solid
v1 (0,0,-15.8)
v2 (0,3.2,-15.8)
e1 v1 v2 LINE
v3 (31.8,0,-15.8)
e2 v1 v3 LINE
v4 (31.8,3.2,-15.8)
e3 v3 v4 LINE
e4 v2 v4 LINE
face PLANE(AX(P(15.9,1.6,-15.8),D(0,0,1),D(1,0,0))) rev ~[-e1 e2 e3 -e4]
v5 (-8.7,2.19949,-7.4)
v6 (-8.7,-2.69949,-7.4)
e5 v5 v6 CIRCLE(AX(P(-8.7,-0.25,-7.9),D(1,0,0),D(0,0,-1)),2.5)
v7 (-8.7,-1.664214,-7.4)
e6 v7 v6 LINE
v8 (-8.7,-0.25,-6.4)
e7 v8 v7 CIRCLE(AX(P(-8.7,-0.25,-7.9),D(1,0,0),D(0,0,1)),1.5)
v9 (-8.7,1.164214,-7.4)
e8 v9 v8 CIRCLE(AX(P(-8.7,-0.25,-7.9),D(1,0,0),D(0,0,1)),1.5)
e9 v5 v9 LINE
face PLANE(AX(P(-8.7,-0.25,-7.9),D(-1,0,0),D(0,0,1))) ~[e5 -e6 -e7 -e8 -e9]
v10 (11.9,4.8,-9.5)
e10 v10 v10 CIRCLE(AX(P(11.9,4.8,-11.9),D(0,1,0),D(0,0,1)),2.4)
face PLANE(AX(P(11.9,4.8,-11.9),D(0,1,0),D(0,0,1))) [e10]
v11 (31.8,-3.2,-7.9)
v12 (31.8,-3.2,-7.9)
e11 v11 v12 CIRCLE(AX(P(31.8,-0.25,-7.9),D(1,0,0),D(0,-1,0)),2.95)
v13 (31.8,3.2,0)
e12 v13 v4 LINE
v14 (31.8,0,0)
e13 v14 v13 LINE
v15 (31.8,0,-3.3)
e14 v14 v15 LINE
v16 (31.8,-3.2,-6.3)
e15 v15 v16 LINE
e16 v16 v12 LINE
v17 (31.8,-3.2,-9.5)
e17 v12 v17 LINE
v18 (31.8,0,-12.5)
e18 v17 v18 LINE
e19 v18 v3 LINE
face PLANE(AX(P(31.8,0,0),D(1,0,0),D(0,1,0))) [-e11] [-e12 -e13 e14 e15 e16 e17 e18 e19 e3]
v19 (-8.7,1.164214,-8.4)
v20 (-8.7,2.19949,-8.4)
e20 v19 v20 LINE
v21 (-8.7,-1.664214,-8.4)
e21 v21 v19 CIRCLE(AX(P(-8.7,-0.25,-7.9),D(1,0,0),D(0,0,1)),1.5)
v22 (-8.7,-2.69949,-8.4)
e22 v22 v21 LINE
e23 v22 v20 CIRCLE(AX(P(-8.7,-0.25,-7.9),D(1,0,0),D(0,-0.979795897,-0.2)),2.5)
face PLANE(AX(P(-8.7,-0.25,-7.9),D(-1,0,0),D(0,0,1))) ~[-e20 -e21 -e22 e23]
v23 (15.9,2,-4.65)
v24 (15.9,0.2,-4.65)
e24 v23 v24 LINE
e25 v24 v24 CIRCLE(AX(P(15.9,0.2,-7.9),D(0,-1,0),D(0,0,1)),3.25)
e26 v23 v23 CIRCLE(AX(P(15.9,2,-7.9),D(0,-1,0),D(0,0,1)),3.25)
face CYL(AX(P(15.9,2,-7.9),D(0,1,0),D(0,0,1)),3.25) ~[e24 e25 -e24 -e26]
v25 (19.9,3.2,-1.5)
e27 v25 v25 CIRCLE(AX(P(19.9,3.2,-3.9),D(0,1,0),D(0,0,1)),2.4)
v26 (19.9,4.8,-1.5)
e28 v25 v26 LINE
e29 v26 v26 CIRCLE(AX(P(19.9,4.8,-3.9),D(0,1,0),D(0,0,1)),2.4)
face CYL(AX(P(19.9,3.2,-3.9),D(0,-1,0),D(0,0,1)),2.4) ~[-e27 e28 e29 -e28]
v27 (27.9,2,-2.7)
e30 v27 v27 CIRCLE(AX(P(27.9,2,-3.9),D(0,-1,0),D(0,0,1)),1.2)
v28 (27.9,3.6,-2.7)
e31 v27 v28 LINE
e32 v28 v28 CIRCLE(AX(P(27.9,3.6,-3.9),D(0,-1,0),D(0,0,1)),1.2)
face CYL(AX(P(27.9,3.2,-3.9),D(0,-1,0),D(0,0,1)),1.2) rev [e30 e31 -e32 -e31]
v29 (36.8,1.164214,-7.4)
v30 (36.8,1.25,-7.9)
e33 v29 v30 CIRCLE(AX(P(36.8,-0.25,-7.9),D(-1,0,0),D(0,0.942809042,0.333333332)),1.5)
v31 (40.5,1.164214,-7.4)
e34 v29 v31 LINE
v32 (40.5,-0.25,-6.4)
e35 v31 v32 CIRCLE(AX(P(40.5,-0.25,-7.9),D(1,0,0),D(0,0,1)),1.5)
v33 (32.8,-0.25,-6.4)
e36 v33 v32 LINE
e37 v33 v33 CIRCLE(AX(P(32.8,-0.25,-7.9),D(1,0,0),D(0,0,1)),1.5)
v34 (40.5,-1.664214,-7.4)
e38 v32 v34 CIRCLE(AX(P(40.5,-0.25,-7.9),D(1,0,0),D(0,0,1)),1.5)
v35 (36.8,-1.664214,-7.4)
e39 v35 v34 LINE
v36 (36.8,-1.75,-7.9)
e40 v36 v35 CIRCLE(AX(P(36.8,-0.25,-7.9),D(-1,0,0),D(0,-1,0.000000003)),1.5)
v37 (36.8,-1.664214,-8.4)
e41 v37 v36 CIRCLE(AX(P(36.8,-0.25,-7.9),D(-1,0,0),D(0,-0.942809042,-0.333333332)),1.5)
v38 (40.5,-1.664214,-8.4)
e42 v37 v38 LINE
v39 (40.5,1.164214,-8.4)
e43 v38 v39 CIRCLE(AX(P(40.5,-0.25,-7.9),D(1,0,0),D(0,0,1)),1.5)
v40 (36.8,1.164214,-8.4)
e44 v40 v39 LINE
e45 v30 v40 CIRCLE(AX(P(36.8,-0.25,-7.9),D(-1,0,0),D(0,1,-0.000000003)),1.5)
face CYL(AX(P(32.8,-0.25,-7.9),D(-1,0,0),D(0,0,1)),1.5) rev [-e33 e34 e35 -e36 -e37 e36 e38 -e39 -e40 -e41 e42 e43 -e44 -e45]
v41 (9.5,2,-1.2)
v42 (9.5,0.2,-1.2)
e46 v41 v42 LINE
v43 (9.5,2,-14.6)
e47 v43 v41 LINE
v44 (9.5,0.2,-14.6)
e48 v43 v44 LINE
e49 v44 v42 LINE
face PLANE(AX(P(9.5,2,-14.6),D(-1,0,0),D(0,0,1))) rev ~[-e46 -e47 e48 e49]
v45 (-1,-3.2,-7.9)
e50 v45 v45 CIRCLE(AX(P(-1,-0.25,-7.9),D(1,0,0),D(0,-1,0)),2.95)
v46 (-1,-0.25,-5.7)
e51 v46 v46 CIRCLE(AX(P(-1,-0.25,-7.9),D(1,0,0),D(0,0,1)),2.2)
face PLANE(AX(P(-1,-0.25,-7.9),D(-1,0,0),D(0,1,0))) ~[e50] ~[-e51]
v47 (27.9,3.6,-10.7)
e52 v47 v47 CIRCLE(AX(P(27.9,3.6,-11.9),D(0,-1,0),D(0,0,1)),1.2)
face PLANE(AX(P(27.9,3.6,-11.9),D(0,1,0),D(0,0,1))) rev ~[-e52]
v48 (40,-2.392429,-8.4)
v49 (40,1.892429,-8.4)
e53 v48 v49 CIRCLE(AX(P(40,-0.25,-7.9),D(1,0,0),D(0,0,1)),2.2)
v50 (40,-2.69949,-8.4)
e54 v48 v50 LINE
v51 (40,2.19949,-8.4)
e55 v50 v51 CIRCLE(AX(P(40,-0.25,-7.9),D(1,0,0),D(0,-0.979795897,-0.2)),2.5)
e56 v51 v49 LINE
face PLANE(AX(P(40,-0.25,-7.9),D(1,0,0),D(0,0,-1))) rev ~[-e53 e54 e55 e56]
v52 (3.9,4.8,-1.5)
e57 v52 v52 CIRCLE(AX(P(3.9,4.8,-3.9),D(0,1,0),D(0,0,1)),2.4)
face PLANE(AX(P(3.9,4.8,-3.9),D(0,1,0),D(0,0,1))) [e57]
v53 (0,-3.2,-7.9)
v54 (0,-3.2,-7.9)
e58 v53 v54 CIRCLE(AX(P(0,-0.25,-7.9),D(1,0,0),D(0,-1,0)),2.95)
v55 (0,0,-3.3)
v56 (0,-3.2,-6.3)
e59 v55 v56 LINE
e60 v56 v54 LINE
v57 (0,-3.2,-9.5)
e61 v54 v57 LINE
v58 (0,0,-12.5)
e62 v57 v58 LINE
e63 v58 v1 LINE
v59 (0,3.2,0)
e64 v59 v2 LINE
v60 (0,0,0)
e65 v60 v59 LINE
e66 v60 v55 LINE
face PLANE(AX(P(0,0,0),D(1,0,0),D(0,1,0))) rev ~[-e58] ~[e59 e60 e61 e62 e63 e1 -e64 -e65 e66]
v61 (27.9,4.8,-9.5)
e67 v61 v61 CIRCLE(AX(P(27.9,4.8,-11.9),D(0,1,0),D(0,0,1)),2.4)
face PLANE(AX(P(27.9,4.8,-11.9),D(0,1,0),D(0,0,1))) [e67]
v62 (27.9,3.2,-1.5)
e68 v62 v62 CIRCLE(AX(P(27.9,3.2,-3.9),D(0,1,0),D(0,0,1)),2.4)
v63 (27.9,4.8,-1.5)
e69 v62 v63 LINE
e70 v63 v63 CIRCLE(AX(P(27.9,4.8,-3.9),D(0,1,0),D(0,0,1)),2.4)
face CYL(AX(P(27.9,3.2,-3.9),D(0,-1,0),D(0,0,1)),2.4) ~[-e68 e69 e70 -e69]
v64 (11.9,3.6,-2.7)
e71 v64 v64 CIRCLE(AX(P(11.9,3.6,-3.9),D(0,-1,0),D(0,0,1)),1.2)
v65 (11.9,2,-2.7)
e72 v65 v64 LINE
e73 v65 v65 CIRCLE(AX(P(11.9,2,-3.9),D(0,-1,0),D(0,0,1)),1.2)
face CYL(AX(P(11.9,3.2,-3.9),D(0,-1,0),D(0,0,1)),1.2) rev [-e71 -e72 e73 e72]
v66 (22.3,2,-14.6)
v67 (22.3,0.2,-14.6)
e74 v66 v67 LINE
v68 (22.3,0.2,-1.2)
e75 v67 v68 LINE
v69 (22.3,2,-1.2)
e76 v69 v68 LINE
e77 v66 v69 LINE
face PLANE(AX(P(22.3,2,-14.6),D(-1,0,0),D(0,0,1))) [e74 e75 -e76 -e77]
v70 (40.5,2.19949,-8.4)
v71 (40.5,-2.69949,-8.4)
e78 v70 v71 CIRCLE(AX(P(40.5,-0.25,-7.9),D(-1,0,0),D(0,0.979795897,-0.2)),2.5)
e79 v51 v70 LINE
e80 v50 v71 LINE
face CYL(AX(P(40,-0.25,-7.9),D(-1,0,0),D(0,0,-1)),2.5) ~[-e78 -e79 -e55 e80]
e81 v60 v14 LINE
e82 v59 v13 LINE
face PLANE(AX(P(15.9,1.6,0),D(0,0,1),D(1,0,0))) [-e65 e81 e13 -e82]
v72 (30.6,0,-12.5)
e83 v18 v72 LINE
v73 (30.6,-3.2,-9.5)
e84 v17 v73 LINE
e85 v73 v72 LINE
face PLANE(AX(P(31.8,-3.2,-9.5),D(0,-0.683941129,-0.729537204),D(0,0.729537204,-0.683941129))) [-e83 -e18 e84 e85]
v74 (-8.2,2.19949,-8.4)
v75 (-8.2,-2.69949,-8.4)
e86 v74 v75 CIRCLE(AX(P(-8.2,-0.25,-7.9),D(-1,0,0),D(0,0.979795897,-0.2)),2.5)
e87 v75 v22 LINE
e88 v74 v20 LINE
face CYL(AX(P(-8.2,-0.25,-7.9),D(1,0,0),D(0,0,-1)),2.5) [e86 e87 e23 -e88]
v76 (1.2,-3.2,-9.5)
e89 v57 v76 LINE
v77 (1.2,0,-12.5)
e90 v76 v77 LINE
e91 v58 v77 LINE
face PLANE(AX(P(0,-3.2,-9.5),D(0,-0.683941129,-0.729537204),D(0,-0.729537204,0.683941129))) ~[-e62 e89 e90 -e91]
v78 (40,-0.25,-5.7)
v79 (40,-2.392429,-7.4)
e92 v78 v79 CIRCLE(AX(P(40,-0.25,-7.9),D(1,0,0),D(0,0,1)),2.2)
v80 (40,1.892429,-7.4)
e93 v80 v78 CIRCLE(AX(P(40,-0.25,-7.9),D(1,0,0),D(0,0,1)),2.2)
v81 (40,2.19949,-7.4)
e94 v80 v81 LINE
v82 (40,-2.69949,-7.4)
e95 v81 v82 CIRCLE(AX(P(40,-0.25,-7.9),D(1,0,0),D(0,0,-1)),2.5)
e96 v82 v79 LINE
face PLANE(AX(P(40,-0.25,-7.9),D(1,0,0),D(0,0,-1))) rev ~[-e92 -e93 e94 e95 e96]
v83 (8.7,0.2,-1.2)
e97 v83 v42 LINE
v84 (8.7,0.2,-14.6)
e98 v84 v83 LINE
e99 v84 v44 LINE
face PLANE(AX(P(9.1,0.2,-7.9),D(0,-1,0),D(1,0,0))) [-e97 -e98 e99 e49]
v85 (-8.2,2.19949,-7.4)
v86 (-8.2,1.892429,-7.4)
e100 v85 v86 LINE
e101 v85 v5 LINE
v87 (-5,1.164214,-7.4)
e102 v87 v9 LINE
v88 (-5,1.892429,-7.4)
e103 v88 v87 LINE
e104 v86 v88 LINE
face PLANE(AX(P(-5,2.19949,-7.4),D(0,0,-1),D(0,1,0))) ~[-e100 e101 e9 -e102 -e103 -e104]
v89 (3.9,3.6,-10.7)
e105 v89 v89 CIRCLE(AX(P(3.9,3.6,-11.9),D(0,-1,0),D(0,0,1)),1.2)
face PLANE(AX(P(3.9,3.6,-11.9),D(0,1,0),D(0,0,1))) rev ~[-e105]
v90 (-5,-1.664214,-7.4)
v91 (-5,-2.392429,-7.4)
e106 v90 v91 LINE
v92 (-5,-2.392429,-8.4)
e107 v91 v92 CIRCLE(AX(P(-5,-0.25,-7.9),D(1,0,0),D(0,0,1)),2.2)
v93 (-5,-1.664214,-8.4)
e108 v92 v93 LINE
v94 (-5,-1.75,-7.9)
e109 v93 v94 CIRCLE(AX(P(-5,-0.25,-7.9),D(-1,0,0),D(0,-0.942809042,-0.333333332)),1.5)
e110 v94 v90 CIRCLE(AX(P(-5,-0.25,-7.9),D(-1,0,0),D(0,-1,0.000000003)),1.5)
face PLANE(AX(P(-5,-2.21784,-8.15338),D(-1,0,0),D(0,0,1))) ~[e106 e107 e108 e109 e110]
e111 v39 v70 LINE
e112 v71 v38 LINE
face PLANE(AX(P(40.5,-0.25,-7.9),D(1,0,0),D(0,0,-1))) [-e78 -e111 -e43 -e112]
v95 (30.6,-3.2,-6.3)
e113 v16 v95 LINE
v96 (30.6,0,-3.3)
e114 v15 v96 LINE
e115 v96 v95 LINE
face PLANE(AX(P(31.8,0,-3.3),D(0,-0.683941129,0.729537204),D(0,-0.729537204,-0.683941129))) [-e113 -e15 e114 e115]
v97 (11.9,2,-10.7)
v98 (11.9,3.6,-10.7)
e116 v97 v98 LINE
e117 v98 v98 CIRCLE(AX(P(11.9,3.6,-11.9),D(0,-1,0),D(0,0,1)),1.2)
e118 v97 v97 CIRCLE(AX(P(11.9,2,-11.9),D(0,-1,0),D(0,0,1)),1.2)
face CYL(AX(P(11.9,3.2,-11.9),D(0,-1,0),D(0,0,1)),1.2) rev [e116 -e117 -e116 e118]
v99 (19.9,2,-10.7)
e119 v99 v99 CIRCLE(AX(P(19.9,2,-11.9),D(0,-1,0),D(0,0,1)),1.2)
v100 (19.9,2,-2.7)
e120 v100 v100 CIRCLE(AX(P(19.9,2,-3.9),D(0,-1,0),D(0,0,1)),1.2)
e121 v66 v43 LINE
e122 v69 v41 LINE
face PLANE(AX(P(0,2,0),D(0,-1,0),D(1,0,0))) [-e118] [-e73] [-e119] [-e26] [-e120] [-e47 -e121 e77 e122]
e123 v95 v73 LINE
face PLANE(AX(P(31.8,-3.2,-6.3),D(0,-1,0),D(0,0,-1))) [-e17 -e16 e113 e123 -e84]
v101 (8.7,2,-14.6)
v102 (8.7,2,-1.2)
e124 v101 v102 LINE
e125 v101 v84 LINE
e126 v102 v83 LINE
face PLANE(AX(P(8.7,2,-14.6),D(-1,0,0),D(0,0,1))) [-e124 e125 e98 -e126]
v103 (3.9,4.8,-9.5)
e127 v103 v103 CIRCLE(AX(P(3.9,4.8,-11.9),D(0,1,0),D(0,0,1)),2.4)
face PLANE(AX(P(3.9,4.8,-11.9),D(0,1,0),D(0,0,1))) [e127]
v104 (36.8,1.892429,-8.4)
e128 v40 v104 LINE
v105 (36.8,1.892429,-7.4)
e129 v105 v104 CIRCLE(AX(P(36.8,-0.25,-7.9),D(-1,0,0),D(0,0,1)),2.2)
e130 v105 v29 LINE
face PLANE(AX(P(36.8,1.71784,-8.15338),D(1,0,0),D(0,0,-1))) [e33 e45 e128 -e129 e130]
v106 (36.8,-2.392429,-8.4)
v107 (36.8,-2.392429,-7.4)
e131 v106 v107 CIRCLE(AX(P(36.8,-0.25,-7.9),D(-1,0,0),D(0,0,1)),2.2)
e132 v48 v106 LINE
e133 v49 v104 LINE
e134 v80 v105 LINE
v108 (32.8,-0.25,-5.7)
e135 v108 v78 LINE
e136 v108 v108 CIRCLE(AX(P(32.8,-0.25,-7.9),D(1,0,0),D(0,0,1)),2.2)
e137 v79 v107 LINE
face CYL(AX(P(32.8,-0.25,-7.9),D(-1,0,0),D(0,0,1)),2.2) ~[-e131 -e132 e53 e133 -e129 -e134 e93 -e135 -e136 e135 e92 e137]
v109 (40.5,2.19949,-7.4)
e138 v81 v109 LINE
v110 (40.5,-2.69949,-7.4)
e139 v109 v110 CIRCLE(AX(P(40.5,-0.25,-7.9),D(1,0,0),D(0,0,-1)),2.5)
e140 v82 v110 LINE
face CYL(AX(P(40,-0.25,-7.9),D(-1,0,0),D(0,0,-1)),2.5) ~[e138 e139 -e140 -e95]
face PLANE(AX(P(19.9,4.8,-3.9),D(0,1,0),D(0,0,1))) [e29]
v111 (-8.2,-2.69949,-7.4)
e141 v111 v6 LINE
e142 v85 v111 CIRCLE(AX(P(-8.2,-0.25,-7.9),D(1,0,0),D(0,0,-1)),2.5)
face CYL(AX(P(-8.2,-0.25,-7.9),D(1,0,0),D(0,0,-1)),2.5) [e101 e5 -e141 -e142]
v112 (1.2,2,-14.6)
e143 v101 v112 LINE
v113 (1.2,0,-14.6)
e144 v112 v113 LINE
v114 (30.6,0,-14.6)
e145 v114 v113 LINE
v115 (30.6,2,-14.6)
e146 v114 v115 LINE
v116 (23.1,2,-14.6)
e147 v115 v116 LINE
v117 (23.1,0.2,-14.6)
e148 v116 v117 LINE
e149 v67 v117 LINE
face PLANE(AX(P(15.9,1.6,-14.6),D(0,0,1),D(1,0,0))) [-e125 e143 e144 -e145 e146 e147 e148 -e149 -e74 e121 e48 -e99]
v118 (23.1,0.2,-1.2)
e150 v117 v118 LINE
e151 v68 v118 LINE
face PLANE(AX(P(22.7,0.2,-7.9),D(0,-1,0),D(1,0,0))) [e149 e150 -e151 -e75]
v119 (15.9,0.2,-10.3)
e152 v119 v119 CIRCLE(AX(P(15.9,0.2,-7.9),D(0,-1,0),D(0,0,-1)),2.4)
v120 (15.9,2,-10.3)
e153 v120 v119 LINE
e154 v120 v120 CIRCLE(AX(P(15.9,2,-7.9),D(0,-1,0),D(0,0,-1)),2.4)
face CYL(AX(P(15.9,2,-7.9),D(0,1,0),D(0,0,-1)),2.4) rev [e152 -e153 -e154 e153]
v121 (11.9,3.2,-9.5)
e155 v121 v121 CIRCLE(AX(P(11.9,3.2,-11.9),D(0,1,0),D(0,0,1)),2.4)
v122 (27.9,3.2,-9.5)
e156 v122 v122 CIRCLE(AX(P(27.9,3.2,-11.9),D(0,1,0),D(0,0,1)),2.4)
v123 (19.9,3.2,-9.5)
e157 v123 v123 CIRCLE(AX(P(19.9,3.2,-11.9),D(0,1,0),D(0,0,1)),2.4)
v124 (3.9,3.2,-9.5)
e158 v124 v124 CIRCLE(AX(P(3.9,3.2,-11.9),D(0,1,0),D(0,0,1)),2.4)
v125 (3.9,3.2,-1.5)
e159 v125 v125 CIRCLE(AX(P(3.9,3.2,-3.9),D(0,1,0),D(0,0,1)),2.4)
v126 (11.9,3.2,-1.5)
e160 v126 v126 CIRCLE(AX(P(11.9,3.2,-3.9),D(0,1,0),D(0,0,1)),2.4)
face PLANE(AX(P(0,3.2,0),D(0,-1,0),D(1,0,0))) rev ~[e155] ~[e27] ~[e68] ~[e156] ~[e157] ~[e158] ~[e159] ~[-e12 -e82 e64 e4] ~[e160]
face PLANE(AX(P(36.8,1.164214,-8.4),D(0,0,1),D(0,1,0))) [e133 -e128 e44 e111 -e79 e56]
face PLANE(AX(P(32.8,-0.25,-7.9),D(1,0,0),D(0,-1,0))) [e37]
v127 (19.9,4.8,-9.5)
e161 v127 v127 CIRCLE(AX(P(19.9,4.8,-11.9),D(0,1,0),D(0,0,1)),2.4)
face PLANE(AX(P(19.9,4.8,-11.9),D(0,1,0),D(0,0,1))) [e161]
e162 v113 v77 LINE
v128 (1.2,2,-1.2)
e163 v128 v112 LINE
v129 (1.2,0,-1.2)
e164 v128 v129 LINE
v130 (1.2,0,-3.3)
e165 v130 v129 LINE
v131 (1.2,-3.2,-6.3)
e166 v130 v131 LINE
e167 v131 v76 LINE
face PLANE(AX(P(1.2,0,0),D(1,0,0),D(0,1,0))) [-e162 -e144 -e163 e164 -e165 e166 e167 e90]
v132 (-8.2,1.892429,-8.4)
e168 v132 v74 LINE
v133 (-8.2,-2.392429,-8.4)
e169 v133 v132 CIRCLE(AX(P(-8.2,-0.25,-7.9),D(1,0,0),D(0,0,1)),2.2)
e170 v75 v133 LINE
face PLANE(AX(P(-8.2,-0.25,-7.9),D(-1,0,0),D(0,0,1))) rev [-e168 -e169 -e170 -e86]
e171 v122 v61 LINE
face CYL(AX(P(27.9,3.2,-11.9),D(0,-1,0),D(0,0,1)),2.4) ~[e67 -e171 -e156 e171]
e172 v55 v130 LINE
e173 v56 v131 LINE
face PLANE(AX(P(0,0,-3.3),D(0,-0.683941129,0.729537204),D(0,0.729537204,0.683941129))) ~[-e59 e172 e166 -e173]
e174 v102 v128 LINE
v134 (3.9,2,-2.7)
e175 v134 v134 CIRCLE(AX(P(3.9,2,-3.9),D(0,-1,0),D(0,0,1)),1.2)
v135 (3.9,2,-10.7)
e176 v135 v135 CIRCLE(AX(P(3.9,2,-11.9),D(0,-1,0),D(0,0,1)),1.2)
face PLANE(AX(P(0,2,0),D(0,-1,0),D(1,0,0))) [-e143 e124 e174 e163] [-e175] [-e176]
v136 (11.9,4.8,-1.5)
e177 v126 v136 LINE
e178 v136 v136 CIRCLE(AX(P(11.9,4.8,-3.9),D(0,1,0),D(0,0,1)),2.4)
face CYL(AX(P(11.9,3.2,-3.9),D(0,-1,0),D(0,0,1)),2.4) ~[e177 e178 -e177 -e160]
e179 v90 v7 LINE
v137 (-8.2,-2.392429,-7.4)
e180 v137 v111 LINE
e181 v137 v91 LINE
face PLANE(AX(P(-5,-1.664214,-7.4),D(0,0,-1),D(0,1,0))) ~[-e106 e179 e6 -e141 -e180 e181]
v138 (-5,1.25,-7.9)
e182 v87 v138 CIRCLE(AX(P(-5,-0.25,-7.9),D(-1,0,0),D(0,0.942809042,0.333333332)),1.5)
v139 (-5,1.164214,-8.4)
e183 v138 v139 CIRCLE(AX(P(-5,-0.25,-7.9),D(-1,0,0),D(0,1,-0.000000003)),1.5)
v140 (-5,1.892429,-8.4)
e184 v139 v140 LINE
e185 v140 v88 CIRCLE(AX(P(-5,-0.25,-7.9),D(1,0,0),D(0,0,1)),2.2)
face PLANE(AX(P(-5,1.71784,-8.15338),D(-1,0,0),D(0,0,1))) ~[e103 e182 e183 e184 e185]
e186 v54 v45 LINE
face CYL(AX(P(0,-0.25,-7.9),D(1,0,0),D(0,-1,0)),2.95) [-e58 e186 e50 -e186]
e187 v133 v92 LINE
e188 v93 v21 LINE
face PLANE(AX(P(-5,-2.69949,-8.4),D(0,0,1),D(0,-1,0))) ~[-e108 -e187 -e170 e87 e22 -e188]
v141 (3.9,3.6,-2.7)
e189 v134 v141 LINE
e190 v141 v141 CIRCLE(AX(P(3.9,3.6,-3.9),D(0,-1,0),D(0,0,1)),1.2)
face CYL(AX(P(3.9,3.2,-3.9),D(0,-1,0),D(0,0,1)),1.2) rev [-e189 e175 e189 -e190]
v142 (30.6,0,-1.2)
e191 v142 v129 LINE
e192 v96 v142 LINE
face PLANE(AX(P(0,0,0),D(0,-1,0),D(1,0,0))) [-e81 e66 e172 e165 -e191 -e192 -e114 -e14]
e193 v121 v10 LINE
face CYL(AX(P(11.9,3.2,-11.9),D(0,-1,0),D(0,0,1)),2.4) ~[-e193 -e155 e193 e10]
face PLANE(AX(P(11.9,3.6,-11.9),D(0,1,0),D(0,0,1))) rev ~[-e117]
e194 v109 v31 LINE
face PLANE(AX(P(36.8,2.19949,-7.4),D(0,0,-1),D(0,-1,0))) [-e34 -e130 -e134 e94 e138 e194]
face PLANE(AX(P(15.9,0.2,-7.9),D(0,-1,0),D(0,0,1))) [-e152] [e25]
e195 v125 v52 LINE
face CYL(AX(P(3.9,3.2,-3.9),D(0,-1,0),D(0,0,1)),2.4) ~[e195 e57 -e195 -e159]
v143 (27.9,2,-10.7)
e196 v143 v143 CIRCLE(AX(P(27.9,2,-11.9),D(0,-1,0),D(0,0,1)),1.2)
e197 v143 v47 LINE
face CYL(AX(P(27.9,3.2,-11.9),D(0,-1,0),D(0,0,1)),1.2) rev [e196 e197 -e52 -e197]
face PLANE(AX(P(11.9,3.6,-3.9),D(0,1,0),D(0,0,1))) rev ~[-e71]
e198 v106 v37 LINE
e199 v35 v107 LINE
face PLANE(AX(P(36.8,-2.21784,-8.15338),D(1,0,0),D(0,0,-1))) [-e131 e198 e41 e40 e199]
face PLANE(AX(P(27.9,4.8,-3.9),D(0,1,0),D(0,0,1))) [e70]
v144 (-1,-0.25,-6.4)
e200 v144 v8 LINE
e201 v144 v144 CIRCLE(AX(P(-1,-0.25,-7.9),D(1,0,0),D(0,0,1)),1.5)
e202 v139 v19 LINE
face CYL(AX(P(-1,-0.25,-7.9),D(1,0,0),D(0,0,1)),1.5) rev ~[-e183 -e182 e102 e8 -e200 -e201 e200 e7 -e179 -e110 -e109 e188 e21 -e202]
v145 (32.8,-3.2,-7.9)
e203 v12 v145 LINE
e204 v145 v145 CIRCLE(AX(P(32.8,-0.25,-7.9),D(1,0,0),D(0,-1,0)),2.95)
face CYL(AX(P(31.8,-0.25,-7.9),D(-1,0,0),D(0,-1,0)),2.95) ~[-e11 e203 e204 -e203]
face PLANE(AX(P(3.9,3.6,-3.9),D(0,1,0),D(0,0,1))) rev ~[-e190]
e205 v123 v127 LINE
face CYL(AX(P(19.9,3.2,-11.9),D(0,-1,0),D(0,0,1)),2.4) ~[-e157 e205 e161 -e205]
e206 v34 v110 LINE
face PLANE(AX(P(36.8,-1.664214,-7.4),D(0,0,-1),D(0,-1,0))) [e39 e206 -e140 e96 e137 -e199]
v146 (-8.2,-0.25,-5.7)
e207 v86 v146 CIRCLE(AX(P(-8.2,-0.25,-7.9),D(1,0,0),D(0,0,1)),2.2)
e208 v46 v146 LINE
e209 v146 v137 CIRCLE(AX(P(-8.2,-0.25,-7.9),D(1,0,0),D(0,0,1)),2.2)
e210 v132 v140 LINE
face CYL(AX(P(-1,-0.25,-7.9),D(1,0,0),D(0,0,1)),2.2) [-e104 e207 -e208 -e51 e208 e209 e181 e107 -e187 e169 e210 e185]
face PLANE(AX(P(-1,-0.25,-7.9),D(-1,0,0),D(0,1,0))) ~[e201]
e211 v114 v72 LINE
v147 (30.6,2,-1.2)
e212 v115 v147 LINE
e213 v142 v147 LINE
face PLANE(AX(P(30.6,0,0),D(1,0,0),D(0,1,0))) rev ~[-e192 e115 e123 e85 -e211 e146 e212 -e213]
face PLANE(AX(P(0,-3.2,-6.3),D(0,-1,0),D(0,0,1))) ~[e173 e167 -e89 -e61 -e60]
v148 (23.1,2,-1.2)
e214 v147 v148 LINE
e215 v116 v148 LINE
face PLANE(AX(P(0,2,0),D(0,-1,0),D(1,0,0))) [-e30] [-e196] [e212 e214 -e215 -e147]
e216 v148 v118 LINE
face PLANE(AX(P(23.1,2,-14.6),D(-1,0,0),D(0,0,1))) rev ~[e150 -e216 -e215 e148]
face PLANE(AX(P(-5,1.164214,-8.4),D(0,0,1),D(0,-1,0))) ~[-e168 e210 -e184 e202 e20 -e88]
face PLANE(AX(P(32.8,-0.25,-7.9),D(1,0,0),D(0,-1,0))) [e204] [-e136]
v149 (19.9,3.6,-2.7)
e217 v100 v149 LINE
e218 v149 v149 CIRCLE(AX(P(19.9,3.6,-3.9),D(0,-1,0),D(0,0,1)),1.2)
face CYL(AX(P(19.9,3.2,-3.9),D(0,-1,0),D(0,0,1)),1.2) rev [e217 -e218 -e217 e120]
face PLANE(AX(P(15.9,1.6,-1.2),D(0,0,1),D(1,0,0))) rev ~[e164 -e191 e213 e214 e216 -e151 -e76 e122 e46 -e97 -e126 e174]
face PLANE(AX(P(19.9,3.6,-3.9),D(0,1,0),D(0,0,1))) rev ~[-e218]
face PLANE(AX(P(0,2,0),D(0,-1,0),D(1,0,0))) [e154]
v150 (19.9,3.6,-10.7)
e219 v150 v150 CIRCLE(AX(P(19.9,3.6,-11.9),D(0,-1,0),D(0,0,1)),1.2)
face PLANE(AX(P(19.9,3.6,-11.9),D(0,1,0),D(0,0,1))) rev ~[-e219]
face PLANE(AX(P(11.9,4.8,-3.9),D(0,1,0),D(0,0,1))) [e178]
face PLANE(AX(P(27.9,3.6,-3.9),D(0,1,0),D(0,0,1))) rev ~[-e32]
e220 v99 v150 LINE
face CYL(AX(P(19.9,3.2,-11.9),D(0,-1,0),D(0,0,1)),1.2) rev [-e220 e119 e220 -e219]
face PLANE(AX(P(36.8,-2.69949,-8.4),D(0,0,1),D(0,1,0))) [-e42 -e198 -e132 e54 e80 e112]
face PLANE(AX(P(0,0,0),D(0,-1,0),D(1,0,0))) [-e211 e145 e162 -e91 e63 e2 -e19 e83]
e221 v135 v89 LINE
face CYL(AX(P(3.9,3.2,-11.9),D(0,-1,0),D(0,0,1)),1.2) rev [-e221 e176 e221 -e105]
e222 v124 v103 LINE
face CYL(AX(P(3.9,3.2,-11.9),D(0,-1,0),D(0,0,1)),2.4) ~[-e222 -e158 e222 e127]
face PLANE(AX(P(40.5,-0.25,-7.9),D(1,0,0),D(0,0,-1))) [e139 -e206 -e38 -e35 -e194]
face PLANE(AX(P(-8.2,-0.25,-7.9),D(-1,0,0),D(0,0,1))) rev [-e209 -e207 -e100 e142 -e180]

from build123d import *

# Parameters (mm, degrees)
SKETCH1_W            = 31.8
SKETCH1_H            = 3.2
BOSS_EXTRUDE1_DEPTH  = 15.8
SKETCH2_R            = 2.4
BOSS_EXTRUDE2_DEPTH  = 1.6
LPATTERN1_COUNT      = 2
LPATTERN1_PITCH      = 8
LPATTERN1_COUNT_DIR2 = 6
LPATTERN1_PITCH_DIR2 = 8
SHELL1_T             = -1.2
SKETCH3_R            = 3.25
SKETCH3_R_2          = 2.4
BOSS_EXTRUDE3_DEPTH  = 1.8
SKETCH4_W            = 0.8
SKETCH4_H            = 13.4
BOSS_EXTRUDE4_DEPTH  = 1.8
BOSS_EXTRUDE5_DEPTH  = 1.2
SKETCH7_R            = 2.95
BOSS_EXTRUDE6_DEPTH  = 1
SKETCH8_R            = 2.2
SKETCH8_R_2          = 1.5
BOSS_EXTRUDE7_DEPTH  = 7.7
BOSS_EXTRUDE8_START  = -0.5
SKETCH9_R            = 2.5
SKETCH9_R_2          = 2.2
BOSS_EXTRUDE8_DEPTH  = 0.5
CUT_EXTRUDE1_START   = -3.7
CUT_EXTRUDE1_DEPTH   = 3.7


with BuildPart() as part:
    # Sketch1 → Boss-Extrude1 (new body)
    with BuildSketch(Plane.XY):
        with Locations((15.9, 1.6)):
            Rectangle(SKETCH1_W, SKETCH1_H)
    extrude(amount=-BOSS_EXTRUDE1_DEPTH)

    # Sketch2 → Boss-Extrude2 (add)
    with BuildSketch(Plane(origin=(0, 3.2, 0), x_dir=(1, 0, 0), z_dir=(0, 1, 0))):
        with Locations(Location((3.9, 3.9, 0), (0, 0, 270))):
            Circle(SKETCH2_R)
    boss_extrude2 = extrude(amount=BOSS_EXTRUDE2_DEPTH)

    # LPattern1: Boss-Extrude2 2 × 6, 4 skipped
    with Locations(*[(j * LPATTERN1_PITCH_DIR2, 0, -i * LPATTERN1_PITCH) for i in range(LPATTERN1_COUNT) for j in range(LPATTERN1_COUNT_DIR2) if (i, j) not in ((0, 0), (0, 4), (0, 5), (1, 4), (1, 5))]):
        add(boss_extrude2)

    # Shell1
    shell1_openings = [part.faces().sort_by_distance(p)[0] for p in [
        (15.9, 0, -7.9),
    ]]
    offset(amount=SHELL1_T, openings=shell1_openings, kind=Kind.INTERSECTION)

    # Sketch3 → Boss-Extrude3 (add)
    with BuildSketch(Plane.XZ.offset(-2)):
        with Locations(Location((15.9, -7.9, 0), (0, 0, 90))):
            Circle(SKETCH3_R)
        with Locations(Location((15.9, -7.9, 0), (0, 0, 270))):
            Circle(SKETCH3_R_2, mode=Mode.SUBTRACT)
    extrude(amount=BOSS_EXTRUDE3_DEPTH)

    # Sketch4 → Boss-Extrude4 (add)
    with BuildSketch(Plane.XZ.offset(-2)):
        with Locations((9.1, -7.9)):
            Rectangle(SKETCH4_W, SKETCH4_H)
        with Locations((22.7, -7.9)):
            Rectangle(SKETCH4_W, SKETCH4_H)
    extrude(amount=BOSS_EXTRUDE4_DEPTH)

    # Sketch5 → Boss-Extrude5 (add)
    with BuildSketch(Plane(origin=(31.8, 0, 0), x_dir=(0, 0, -1), z_dir=(1, 0, 0))):
        Polygon((6.3, -3.2), (9.5, -3.2), (12.5, 0), (3.3, 0), align=None)
    boss_extrude5 = extrude(amount=-BOSS_EXTRUDE5_DEPTH)

    # Mirror1: Boss-Extrude5 across plane
    add(boss_extrude5.mirror(Plane.ZY.offset(-15.9)))

    # Sketch7 → Boss-Extrude6 (add)
    with BuildSketch(Plane(origin=(31.8, 0, 0), x_dir=(0, 0, -1), z_dir=(1, 0, 0))):
        with Locations(Location((7.9, -0.25, 0), (0, 0, 270))):
            Circle(SKETCH7_R)
    boss_extrude6 = extrude(amount=BOSS_EXTRUDE6_DEPTH)

    # Sketch8 → Boss-Extrude7 (add)
    with BuildSketch(Plane(origin=(32.8, 0, 0), x_dir=(0, 0, -1), z_dir=(1, 0, 0))):
        with Locations(Location((7.9, -0.25, 0), (0, 0, 180))):
            Circle(SKETCH8_R)
        with Locations(Location((7.9, -0.25, 0), (0, 0, 180))):
            Circle(SKETCH8_R_2, mode=Mode.SUBTRACT)
    boss_extrude7 = extrude(amount=BOSS_EXTRUDE7_DEPTH)

    # Sketch9 → Boss-Extrude8 (add)
    with BuildSketch(Plane(origin=(40.5, 0, 0), x_dir=(0, 0, -1), z_dir=(1, 0, 0)).offset(BOSS_EXTRUDE8_START)):
        with Locations((7.9, -0.25)):
            Circle(SKETCH9_R)
        with Locations(Location((7.9, -0.25, 0), (0, 0, 180))):
            Circle(SKETCH9_R_2, mode=Mode.SUBTRACT)
    boss_extrude8 = extrude(amount=BOSS_EXTRUDE8_DEPTH)

    # Sketch10 → Cut-Extrude1 (cut)
    with BuildSketch(Plane(origin=(40.5, 0, 0), x_dir=(0, 0, -1), z_dir=(1, 0, 0)).offset(CUT_EXTRUDE1_START)):
        with BuildLine():
            Line((7.9, -1.75), (7.9, -2.75))
            ThreePointArc((7.9, -2.75), (8.151272405, -2.737340383), (8.4, -2.699489743))
            Line((8.4, -2.699489743), (8.4, -1.664213562))
            ThreePointArc((8.4, -1.664213562), (8.153652968, -1.728397839), (7.9, -1.75))
        make_face()
        with BuildLine():
            Line((7.9, 2.25), (7.9, 1.25))
            ThreePointArc((7.9, 1.25), (8.153652968, 1.228397839), (8.4, 1.164213562))
            Line((8.4, 1.164213562), (8.4, 2.199489743))
            ThreePointArc((8.4, 2.199489743), (8.151272405, 2.237340383), (7.9, 2.25))
        make_face()
        with BuildLine():
            ThreePointArc((7.4, -2.699489743), (7.648727595, -2.737340383), (7.9, -2.75))
            Line((7.9, -2.75), (7.9, -1.75))
            ThreePointArc((7.9, -1.75), (7.646347032, -1.728397839), (7.4, -1.664213562))
            Line((7.4, -1.664213562), (7.4, -2.699489743))
        make_face()
        with BuildLine():
            ThreePointArc((7.4, 1.164213562), (7.646347032, 1.228397839), (7.9, 1.25))
            Line((7.9, 1.25), (7.9, 2.25))
            ThreePointArc((7.9, 2.25), (7.648727595, 2.237340383), (7.4, 2.199489743))
            Line((7.4, 2.199489743), (7.4, 1.164213562))
        make_face()
    cut_extrude1 = extrude(amount=CUT_EXTRUDE1_DEPTH, mode=Mode.SUBTRACT)

    # Mirror2: Boss-Extrude6, Boss-Extrude7, Boss-Extrude8, Cut-Extrude1 across plane
    add(boss_extrude6.mirror(Plane.ZY.offset(-15.9)))
    add(boss_extrude7.mirror(Plane.ZY.offset(-15.9)))
    add(boss_extrude8.mirror(Plane.ZY.offset(-15.9)))
    add(cut_extrude1.mirror(Plane.ZY.offset(-15.9)), mode=Mode.SUBTRACT)


solid = part.part
